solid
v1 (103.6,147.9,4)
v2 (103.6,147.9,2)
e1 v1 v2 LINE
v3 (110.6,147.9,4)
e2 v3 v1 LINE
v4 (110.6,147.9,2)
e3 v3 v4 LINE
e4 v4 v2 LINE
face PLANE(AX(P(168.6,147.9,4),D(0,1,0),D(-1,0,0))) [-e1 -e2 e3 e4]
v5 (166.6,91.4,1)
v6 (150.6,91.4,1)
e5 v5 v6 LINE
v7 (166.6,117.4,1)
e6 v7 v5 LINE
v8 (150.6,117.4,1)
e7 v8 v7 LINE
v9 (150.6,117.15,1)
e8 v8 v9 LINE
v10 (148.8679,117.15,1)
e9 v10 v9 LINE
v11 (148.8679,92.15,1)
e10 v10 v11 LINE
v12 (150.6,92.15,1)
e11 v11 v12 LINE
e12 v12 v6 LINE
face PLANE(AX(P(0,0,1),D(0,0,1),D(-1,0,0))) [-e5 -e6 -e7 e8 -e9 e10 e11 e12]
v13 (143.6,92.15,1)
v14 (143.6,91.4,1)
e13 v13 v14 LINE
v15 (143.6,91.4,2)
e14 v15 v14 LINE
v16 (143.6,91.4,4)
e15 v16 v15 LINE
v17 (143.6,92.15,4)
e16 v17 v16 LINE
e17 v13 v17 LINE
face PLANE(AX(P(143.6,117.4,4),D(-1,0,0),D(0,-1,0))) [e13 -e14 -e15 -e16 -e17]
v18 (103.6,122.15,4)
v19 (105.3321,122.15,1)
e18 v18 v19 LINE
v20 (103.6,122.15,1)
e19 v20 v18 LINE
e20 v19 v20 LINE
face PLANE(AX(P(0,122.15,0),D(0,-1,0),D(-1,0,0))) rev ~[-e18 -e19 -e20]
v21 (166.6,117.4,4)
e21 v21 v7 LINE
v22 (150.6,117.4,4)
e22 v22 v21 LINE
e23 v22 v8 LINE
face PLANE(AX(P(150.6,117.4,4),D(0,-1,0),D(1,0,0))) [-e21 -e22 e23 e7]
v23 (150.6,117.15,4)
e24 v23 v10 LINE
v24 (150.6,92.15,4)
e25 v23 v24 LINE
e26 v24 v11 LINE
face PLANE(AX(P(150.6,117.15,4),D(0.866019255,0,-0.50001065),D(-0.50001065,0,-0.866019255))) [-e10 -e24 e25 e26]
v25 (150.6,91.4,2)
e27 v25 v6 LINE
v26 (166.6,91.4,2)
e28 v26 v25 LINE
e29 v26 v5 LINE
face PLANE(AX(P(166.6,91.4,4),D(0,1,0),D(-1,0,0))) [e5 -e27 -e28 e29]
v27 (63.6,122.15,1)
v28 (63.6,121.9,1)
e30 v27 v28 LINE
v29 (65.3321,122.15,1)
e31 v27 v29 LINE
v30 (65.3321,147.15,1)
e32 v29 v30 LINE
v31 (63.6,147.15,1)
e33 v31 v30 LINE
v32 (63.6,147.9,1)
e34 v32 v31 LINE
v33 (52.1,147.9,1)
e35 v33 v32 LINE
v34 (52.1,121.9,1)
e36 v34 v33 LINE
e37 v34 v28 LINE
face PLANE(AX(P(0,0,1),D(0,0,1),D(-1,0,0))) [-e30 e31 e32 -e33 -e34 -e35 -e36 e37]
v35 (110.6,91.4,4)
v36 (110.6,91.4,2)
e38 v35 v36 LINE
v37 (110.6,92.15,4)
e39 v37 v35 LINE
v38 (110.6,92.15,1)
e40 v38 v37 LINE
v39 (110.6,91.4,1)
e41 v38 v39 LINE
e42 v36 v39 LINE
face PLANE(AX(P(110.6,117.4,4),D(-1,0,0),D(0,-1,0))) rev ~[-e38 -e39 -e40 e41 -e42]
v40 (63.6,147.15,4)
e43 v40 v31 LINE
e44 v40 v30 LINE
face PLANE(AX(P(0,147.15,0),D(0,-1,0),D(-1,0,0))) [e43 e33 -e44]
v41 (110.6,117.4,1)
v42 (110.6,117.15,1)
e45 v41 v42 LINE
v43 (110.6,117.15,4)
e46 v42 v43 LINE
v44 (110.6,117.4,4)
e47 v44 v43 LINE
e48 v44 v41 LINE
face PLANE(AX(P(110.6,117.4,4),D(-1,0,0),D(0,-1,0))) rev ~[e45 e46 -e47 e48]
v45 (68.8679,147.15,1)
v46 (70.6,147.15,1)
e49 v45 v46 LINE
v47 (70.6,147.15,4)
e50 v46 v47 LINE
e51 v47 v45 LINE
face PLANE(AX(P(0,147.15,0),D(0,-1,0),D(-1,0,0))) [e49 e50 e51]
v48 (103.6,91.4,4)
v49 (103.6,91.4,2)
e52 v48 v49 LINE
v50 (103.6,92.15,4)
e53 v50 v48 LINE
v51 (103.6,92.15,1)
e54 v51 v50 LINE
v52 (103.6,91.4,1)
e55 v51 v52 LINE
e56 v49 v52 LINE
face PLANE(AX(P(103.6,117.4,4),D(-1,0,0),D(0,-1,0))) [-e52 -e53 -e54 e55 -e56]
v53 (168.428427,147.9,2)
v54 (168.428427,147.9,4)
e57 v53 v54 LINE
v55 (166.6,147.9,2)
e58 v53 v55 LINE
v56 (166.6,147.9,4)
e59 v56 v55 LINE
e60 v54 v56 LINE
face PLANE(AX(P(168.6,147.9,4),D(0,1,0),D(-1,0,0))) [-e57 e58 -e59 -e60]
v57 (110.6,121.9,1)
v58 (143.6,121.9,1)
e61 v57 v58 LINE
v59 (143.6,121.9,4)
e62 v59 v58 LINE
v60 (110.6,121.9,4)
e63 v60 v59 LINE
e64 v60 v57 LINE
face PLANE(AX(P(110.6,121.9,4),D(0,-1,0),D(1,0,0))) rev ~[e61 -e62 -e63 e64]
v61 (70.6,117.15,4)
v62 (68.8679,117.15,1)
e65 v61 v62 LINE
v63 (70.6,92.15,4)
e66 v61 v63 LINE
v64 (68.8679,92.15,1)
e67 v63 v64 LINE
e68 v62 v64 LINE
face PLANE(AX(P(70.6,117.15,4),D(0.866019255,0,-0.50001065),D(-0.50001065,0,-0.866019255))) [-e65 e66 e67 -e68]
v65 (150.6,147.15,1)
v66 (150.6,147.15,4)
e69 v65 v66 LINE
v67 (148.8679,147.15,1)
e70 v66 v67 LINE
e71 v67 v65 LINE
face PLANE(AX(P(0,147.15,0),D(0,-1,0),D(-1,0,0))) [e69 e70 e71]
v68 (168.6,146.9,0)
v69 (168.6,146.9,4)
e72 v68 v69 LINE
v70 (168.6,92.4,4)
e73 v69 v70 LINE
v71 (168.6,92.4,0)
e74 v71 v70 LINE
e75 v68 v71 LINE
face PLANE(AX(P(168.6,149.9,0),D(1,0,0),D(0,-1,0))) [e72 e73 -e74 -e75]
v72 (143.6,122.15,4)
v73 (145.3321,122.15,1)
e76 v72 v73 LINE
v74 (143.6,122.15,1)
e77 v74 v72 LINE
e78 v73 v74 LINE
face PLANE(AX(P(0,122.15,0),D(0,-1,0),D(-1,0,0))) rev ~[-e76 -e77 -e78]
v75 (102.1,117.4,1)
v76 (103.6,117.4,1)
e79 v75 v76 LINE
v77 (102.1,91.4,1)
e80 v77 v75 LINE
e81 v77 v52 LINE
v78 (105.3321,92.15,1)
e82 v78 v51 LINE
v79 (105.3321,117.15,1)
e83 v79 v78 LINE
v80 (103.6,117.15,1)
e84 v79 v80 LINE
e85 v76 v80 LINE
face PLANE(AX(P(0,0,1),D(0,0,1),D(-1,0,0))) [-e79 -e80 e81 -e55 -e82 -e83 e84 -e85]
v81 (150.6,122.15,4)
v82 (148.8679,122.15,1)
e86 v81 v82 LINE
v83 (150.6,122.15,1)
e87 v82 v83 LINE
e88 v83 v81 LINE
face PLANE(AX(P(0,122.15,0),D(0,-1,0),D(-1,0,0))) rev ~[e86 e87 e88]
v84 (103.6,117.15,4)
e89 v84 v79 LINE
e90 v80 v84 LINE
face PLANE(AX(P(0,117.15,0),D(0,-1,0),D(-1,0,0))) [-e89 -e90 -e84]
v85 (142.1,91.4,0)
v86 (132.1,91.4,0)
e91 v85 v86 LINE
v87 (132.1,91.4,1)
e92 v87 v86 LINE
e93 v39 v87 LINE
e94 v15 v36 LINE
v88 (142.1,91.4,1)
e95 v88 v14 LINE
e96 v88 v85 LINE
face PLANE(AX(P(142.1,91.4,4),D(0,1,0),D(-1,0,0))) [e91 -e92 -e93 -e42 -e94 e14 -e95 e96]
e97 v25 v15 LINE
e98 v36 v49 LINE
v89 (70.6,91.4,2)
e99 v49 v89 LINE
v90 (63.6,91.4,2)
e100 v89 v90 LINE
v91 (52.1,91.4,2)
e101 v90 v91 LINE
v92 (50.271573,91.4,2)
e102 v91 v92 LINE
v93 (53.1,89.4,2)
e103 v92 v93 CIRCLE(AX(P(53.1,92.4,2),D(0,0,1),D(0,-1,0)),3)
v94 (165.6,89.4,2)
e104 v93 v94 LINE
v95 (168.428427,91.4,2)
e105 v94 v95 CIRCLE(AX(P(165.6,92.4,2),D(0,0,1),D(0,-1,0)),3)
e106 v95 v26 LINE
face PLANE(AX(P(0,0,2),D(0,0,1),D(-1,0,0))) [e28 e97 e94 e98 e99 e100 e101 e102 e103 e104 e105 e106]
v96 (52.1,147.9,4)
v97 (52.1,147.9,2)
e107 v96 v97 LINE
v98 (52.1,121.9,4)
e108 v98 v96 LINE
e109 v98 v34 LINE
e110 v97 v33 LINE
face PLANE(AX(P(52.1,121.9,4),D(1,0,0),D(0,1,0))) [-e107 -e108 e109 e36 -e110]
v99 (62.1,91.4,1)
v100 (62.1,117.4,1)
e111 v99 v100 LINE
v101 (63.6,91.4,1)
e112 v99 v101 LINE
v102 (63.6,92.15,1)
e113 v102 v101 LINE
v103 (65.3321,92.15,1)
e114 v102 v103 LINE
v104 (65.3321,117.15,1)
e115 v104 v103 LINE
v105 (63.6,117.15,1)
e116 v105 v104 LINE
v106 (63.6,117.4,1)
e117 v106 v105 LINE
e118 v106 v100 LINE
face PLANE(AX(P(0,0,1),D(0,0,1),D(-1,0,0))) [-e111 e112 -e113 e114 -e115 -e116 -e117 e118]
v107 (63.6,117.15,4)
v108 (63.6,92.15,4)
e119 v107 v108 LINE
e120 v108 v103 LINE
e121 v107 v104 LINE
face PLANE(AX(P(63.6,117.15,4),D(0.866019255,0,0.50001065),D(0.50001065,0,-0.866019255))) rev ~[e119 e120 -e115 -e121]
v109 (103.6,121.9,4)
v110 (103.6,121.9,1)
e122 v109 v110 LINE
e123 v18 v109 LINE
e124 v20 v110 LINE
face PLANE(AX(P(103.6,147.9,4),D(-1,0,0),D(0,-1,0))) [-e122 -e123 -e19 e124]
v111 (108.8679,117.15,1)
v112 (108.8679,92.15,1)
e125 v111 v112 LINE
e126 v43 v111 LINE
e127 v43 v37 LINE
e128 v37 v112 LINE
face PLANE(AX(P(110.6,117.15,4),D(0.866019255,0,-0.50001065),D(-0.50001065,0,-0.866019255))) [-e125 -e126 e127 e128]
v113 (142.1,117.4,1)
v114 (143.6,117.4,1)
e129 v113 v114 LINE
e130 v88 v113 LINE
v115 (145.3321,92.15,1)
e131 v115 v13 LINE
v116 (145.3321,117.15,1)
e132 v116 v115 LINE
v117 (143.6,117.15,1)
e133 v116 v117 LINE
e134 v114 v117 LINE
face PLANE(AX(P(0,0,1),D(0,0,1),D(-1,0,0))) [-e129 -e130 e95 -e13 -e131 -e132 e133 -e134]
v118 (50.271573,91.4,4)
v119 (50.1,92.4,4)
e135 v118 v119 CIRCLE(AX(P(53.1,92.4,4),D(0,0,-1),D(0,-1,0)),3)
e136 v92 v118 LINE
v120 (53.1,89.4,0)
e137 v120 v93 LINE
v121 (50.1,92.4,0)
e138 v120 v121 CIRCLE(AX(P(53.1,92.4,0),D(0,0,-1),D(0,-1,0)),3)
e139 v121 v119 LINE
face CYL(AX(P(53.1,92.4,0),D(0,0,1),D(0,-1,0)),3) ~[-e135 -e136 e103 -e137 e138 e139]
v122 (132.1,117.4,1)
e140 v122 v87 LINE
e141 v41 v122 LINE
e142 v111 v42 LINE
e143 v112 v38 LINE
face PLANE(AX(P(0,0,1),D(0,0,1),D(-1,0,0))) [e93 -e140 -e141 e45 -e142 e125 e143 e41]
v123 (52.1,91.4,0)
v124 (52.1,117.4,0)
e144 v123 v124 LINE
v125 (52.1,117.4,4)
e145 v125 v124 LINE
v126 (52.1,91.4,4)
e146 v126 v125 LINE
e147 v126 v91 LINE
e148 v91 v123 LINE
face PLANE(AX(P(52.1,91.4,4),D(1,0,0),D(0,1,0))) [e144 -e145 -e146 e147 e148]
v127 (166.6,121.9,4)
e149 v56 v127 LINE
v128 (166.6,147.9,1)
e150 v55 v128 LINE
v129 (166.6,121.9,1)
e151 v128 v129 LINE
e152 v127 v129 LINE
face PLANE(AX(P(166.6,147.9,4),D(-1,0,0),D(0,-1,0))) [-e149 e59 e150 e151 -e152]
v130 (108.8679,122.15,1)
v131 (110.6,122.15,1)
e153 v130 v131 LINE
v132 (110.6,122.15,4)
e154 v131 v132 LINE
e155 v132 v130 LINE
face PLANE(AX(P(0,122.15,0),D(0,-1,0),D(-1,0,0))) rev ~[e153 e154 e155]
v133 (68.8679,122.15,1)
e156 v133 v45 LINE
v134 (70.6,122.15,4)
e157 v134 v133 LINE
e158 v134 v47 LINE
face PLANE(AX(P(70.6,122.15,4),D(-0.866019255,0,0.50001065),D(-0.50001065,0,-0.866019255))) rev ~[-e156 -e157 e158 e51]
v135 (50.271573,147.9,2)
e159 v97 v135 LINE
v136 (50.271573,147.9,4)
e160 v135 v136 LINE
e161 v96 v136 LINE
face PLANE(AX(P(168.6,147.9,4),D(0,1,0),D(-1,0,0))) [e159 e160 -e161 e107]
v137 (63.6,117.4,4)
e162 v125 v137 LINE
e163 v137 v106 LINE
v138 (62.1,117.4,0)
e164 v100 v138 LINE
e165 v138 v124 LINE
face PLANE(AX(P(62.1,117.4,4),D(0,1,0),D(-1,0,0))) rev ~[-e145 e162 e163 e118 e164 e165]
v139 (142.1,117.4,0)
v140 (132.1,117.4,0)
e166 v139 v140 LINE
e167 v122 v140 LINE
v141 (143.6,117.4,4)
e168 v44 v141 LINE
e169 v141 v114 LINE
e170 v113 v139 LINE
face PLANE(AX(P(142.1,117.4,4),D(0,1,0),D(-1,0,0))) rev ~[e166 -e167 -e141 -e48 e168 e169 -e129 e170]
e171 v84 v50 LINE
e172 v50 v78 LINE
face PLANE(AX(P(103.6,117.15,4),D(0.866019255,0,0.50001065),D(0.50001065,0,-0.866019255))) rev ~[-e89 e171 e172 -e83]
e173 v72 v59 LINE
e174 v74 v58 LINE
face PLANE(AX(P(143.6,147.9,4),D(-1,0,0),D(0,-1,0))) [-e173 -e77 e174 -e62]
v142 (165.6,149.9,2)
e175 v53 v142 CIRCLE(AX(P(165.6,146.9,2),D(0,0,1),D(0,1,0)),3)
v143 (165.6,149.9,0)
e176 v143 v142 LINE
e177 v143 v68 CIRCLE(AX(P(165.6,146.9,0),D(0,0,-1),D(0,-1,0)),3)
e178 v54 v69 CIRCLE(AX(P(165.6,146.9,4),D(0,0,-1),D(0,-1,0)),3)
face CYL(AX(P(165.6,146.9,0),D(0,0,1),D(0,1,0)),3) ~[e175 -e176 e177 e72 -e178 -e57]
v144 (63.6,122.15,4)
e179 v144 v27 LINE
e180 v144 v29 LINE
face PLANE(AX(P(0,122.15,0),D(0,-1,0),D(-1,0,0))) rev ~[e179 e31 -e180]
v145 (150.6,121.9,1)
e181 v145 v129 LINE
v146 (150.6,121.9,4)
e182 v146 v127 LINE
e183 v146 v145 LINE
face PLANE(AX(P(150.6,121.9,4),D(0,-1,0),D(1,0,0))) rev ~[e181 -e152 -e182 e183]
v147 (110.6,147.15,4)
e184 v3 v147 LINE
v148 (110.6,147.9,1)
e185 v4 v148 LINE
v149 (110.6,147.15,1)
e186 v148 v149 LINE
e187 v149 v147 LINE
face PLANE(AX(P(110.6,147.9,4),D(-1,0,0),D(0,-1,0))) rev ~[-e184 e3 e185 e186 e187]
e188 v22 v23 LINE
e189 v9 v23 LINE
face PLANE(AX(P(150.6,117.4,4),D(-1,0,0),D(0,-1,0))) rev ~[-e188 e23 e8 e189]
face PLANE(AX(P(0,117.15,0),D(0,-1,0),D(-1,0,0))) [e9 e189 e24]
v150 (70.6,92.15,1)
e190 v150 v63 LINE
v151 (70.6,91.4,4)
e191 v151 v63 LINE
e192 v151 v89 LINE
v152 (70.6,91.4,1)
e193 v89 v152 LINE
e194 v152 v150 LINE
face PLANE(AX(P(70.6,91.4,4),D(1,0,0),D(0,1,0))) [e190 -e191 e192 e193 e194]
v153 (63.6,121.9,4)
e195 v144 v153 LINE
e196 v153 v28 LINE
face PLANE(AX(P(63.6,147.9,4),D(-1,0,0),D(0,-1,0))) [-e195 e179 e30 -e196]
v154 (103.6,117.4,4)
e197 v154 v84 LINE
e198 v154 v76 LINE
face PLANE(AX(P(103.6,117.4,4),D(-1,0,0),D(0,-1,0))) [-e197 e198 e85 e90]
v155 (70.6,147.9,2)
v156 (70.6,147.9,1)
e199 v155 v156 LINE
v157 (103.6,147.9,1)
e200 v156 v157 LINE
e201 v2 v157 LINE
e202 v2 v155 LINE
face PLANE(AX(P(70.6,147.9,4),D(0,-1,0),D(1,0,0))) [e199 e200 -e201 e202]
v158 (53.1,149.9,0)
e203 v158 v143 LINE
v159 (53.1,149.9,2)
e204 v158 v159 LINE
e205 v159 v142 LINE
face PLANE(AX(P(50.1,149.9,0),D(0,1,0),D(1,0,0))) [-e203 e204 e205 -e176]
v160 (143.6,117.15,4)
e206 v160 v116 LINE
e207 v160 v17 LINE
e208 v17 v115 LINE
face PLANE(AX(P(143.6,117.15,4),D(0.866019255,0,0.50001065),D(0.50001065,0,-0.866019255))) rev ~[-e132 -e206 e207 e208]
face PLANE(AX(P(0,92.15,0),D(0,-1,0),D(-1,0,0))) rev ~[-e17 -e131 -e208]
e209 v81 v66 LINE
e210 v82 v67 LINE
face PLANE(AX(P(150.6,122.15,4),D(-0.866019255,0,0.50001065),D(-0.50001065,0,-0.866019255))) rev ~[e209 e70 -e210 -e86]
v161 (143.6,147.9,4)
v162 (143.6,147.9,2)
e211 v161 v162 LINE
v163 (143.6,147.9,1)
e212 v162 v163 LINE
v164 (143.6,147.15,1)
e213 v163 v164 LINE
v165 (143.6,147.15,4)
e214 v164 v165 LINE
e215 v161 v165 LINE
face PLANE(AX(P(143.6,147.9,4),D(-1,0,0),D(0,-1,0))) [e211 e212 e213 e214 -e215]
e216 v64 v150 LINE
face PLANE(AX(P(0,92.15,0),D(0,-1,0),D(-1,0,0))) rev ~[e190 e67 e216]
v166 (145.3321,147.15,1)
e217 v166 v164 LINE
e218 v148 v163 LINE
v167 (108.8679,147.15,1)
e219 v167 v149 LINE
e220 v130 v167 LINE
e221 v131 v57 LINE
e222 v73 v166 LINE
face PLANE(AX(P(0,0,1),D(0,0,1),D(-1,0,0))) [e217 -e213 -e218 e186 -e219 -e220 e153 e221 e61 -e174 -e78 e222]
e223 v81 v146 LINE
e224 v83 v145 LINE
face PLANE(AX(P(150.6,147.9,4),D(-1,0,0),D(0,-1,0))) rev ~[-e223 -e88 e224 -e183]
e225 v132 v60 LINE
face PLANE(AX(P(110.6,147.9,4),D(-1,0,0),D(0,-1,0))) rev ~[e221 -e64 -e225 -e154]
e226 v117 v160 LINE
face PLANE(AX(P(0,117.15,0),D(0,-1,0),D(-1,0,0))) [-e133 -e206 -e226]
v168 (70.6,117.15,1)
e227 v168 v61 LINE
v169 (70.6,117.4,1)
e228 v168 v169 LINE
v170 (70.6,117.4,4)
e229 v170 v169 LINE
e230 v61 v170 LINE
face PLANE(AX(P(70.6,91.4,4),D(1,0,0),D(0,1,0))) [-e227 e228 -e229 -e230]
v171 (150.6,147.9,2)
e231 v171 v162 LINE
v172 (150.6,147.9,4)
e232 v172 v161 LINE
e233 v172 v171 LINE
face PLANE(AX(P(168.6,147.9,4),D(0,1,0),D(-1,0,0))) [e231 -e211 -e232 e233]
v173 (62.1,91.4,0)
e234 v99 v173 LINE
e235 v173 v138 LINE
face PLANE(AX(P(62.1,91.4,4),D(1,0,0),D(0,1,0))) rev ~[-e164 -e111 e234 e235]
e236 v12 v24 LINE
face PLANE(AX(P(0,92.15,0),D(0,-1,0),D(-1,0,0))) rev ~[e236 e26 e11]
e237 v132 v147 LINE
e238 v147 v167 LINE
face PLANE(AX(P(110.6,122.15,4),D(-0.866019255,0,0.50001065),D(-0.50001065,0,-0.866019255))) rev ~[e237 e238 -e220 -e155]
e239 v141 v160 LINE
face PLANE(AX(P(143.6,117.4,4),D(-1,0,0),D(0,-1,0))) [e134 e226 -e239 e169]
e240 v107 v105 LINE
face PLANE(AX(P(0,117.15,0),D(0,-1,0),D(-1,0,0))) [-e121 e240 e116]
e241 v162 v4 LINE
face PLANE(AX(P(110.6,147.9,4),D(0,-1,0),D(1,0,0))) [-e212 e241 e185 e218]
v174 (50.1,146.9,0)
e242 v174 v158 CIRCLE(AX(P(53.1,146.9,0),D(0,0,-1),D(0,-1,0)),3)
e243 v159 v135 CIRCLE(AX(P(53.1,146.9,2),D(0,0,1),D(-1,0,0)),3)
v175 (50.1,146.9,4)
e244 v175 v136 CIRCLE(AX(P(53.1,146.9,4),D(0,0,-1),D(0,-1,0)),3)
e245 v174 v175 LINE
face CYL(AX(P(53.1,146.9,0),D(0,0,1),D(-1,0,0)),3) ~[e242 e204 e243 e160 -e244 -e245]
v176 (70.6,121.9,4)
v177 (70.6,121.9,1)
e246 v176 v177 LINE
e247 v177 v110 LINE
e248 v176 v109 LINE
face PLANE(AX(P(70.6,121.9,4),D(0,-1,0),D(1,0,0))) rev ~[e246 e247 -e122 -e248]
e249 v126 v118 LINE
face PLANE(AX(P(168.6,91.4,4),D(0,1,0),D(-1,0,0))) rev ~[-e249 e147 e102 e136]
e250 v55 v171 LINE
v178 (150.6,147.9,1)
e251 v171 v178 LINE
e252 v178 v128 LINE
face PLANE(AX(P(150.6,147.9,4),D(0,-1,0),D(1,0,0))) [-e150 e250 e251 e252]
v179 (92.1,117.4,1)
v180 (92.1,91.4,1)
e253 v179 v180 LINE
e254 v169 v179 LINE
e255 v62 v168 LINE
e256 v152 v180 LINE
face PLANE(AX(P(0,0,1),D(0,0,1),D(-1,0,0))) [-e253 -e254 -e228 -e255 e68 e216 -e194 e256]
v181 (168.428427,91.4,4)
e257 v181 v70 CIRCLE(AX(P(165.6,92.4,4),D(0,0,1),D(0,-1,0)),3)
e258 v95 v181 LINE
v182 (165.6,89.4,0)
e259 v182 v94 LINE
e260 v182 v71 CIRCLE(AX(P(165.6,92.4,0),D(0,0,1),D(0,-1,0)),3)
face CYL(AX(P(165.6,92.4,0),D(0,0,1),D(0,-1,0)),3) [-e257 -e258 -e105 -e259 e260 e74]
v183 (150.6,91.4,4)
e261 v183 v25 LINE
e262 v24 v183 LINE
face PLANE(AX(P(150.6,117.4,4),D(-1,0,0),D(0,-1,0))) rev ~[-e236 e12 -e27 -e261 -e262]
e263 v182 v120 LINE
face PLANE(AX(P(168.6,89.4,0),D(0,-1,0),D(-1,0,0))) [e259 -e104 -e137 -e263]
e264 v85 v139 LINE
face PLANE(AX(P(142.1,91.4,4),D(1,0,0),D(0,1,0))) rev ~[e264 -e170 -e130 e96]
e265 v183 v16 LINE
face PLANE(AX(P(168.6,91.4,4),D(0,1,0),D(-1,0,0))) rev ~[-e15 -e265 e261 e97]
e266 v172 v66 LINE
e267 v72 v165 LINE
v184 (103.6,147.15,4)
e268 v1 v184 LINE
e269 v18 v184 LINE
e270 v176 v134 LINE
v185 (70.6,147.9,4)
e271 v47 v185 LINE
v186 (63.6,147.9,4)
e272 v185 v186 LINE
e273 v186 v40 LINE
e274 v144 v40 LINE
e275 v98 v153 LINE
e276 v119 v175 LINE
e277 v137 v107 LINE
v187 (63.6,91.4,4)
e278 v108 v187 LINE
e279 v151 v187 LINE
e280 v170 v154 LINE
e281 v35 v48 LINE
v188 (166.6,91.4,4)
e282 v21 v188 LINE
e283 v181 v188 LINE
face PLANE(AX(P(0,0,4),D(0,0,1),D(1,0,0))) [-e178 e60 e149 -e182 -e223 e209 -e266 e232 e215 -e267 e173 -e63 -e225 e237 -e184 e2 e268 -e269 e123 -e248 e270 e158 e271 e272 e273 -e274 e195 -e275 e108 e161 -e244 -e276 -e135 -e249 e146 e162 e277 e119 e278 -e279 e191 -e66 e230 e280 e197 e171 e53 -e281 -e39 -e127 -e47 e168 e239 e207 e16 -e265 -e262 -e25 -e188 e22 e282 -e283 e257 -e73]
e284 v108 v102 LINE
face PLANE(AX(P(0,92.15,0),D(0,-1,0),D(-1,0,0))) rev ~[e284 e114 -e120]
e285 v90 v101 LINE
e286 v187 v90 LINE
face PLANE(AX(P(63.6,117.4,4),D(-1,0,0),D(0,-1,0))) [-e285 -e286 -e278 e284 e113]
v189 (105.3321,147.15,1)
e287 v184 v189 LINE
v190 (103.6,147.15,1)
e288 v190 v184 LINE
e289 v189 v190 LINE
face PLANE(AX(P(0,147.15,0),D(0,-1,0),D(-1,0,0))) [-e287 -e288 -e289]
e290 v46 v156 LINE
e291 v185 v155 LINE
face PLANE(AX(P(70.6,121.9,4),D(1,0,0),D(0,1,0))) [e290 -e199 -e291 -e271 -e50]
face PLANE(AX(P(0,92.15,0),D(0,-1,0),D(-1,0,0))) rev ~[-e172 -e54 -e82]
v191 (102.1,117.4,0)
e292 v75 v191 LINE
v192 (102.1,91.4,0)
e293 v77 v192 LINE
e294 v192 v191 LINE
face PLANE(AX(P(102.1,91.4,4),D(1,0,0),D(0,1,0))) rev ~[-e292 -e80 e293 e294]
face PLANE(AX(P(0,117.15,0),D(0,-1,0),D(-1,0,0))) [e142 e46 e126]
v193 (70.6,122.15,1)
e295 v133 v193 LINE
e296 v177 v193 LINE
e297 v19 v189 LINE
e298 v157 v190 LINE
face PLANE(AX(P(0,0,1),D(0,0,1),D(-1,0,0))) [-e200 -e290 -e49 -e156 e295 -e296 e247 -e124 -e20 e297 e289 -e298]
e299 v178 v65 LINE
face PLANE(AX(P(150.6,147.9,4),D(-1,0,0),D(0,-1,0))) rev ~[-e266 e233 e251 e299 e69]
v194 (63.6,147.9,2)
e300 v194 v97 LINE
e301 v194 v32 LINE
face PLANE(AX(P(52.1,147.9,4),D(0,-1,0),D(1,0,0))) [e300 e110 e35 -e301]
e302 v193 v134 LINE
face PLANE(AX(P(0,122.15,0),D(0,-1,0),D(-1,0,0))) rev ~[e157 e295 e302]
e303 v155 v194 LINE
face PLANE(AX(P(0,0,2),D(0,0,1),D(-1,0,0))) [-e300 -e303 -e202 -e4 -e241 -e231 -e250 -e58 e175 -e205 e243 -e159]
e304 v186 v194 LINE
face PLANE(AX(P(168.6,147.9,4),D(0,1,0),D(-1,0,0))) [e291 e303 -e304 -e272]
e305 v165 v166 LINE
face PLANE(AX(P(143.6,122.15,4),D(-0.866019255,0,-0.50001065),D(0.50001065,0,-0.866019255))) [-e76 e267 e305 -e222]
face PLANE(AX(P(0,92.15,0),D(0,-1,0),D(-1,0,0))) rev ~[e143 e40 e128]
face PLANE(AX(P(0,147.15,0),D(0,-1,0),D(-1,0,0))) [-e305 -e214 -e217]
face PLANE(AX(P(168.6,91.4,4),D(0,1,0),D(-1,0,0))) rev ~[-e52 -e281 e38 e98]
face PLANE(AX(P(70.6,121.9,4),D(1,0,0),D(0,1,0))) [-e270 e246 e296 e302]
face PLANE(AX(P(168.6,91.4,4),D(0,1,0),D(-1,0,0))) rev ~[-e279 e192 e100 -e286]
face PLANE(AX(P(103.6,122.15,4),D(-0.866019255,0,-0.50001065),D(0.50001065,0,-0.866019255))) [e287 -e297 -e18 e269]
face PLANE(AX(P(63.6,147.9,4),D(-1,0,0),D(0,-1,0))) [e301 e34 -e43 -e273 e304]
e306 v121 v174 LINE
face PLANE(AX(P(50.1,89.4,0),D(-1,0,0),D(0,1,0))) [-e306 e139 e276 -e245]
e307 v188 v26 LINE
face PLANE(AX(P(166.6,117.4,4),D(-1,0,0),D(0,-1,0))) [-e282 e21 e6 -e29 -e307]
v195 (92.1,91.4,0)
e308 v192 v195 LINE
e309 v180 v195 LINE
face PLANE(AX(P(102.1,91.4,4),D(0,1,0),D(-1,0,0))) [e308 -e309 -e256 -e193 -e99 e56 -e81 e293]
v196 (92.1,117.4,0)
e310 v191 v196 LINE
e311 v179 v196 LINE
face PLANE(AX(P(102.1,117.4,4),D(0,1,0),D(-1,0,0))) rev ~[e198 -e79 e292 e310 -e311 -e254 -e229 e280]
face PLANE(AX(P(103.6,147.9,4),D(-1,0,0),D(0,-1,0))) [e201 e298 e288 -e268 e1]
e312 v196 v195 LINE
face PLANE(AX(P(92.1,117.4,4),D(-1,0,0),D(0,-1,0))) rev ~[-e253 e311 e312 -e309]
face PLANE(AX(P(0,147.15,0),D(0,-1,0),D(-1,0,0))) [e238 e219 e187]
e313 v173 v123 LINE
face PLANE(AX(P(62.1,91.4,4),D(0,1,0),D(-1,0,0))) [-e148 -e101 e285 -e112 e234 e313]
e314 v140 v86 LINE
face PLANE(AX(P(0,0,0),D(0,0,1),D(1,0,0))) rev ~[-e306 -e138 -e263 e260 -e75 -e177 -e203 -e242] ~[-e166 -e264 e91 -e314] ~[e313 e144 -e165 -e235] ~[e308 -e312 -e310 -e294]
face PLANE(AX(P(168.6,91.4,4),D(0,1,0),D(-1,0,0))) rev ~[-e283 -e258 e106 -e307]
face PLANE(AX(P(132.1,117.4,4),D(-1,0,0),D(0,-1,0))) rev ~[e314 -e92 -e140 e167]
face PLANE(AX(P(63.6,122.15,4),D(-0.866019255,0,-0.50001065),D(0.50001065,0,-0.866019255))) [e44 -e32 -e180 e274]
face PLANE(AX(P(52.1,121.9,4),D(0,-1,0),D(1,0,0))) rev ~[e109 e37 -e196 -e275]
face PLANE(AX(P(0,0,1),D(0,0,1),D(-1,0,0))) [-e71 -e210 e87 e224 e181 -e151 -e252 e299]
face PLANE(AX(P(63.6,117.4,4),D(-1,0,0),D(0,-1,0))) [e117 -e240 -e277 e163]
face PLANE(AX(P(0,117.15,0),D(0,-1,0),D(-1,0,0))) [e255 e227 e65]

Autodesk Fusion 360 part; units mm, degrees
sketch "Schizzo1" plane through (0, 0, 0) normal (0, 0, 1) x (1, 0, 0)
  line L0 (50, 150) -> (168.7, 150) construction
  line L1 (168.7, 150) -> (168.7, 89.3) construction
  line L2 (168.7, 89.3) -> (50, 89.3) construction
  line L3 (50, 89.3) -> (50, 150) construction
  line L4 (50, 119.65) -> (168.7, 119.65) construction
  line L5 (109.35, 150) -> (109.35, 89.3) construction
  line L6 (168.6, 89.4) -> (50.1, 89.4)
  line L7 (50.1, 89.4) -> (50.1, 149.9)
  line L8 (50.1, 149.9) -> (168.6, 149.9)
  line L9 (168.6, 149.9) -> (168.6, 89.4)
  line L10 (168.6, 89.4) -> (50.1, 149.9) construction
  line L11 (50.1, 89.4) -> (168.6, 149.9) construction
  point P0 (109.35, 119.65)
  dimension "d1" = 118.7
  dimension "d2" = 60.7
  dimension "d3" = 0.1
  dimension "d4" = 0.1
extrude "Estrusione1" add sketch "Schizzo1" along normal blind 4
fillet "Raccordo1" radius 3 4 edges at (50.1, 89.4, 2) (168.6, 89.4, 2) (50.1, 149.9, 2) (168.6, 149.9, 2)
sketch "Schizzo2" plane through (0, 0, 4) normal (0, 0, 1) x (-1, 0, 0)
  arc A0 (-168.6, -146.9) -> (-165.6, -149.9) centre (-165.6, -146.9) ccw
  line L0 (-165.6, -149.9) -> (-53.1, -149.9)
  arc A1 (-53.1, -149.9) -> (-50.1, -146.9) centre (-53.1, -146.9) ccw
  line L1 (-50.1, -146.9) -> (-50.1, -92.4)
  arc A2 (-50.1, -92.4) -> (-53.1, -89.4) centre (-53.1, -92.4) ccw
  line L2 (-53.1, -89.4) -> (-165.6, -89.4)
  arc A3 (-165.6, -89.4) -> (-168.6, -92.4) centre (-165.6, -92.4) ccw
  line L3 (-168.6, -92.4) -> (-168.6, -146.9)
  line L4 (-50.1, -149.9) -> (-168.6, -149.9) construction
  line L5 (-168.6, -149.9) -> (-168.6, -89.4) construction
  line L6 (-168.6, -89.4) -> (-50.1, -89.4) construction
  line L7 (-50.1, -89.4) -> (-50.1, -149.9) construction
  line L8 (-50.1, -119.65) -> (-168.6, -119.65) construction
  line L9 (-109.35, -149.9) -> (-109.35, -89.4) construction
  line L10 (-166.6, -91.4) -> (-52.1, -91.4)
  line L11 (-52.1, -91.4) -> (-52.1, -147.9)
  line L12 (-52.1, -147.9) -> (-166.6, -147.9)
  line L13 (-166.6, -147.9) -> (-166.6, -91.4)
  line L14 (-166.6, -91.4) -> (-52.1, -147.9) construction
  line L15 (-52.1, -91.4) -> (-166.6, -147.9) construction
  line L16 (-70.6, -91.4) -> (-70.6, -147.9)
  line L17 (-63.6, -147.9) -> (-63.6, -91.4)
  line L18 (-52.1, -121.9) -> (-52.1, -147.9)
  line L19 (-103.6, -147.9) -> (-103.6, -91.4)
  line L20 (-110.6, -147.9) -> (-110.6, -91.4)
  line L21 (-143.6, -147.9) -> (-143.6, -91.4)
  line L22 (-150.6, -147.9) -> (-150.6, -91.4)
  line L23 (-52.1, -91.4) -> (-62.1, -91.4)
  line L24 (-62.1, -91.4) -> (-62.1, -117.4)
  line L25 (-62.1, -117.4) -> (-52.1, -117.4)
  line L26 (-52.1, -117.4) -> (-52.1, -91.4)
  line L27 (-102.1, -117.4) -> (-92.1, -117.4)
  line L28 (-92.1, -117.4) -> (-92.1, -91.4)
  line L29 (-102.1, -91.4) -> (-102.1, -117.4)
  line L30 (-92.1, -91.4) -> (-102.1, -91.4)
  line L31 (-142.1, -117.4) -> (-132.1, -117.4)
  line L32 (-132.1, -117.4) -> (-132.1, -91.4)
  line L33 (-142.1, -91.4) -> (-142.1, -117.4)
  line L34 (-132.1, -91.4) -> (-142.1, -91.4)
  line L35 (-52.1, -117.4) -> (-166.6, -117.4)
  line L36 (-52.1, -121.9) -> (-166.6, -121.9)
  point P0 (-109.35, -119.65)
  point P1 (-109.35, -119.65)
  dimension "d11" = 7
  dimension "d20" = 7
  dimension "d25" = 7
  dimension "d36" = 13.5
  dimension "d37" = 53.5
  dimension "d38" = 93.5
  dimension "d39" = 10
  dimension "d40" = 26
  dimension "d41" = 2
  dimension "d42" = 2
  dimension "d45" = -40
  dimension "d46" = 0
extrude "Estrusione2" cut sketch "Schizzo2" against normal blind 3 contours L10 L13 L22 L35 | L10 L21 L33 L35 | L12 L13 L22 L36 | L10 L31 L32 L33 L34 L35 | L10 L20 L32 L35 | L12 L20 L21 L36 | L10 L19 L29 L35 | L12 L16 L19 L36 | L10 L27 L28 L29 L30 L35 | L10 L16 L28 L35 | L11 L12 L17 L18 L36 | L10 L17 L24 L35 | L10 L11 L23 L24 L25 L26 L35
extrude "Estrusione3" cut sketch "Schizzo2" against normal blind 4 contours L10 L31 L32 L33 L34 L35 | L10 L27 L28 L29 L30 L35 | L10 L11 L23 L24 L25 L26 L35
ref_plane "Piano di lavoro1" through (109.35, 119.65, 4) normal (0, -1, 0) x (1, 0, 0)
sketch "Schizzo3" plane through (0, 119.65, 0) normal (0, -1, 0) x (-1, 0, 0)
  line L0 (-50.1, -4) -> (-168.7, -4) construction
  line L1 (-168.7, -4) -> (-168.7, 0) construction
  line L2 (-168.7, 0) -> (-50.1, 0) construction
  line L3 (-50.1, 0) -> (-50.1, -4) construction
  line L4 (-168.6, -4) -> (-50.1, -4) construction
  line L5 (-50.1, -1) -> (-168.7, -1) construction
  line L6 (-63.6, -4) -> (-63.6, 0) construction
  line L7 (-70.6, -4) -> (-70.6, 0) construction
  line L8 (-63.6, -4) -> (-63.6, -1) construction
  line L9 (-70.6, -4) -> (-70.6, -1) construction
  line L10 (-103.6, -4) -> (-103.6, 0) construction
  line L11 (-110.6, -4) -> (-110.6, 0) construction
  line L12 (-103.6, -4) -> (-103.6, -1) construction
  line L13 (-110.6, -4) -> (-110.6, -1) construction
  line L14 (-143.6, -4) -> (-143.6, 0) construction
  line L15 (-150.6, -4) -> (-150.6, 0) construction
  line L16 (-143.6, -4) -> (-143.6, -1) construction
  line L17 (-150.6, -4) -> (-150.6, -1) construction
  line L18 (-63.6, -4) -> (-65.3321, -1)
  line L19 (-63.6, -4) -> (-60.1359, -4) construction
  line L20 (-70.6, -4) -> (-68.8679, -1)
  line L21 (-70.6, -4) -> (-67.1359, -4) construction
  line L22 (-63.6, -4) -> (-63.6, -1)
  line L23 (-63.6, -1) -> (-65.3321, -1)
  line L24 (-68.8679, -1) -> (-70.6, -1)
  line L25 (-70.6, -1) -> (-70.6, -4)
  line L26 (-103.6, -1) -> (-103.6, -4)
  line L27 (-103.6, -4) -> (-105.3321, -1)
  line L28 (-105.3321, -1) -> (-103.6, -1)
  line L29 (-110.6, -1) -> (-110.6, -4)
  line L30 (-110.6, -4) -> (-108.8679, -1)
  line L31 (-108.8679, -1) -> (-110.6, -1)
  line L32 (-143.6, -1) -> (-143.6, -4)
  line L33 (-143.6, -4) -> (-145.3321, -1)
  line L34 (-145.3321, -1) -> (-143.6, -1)
  line L35 (-150.6, -1) -> (-150.6, -4)
  line L36 (-150.6, -4) -> (-148.8679, -1)
  line L37 (-148.8679, -1) -> (-150.6, -1)
  line L38 (-110.6, -1) -> (-143.6, -1)
  point P0 (-168.7, 0)
  dimension "d28" = 120
  dimension "d29" = 60
  dimension "d30" = 30
  dimension "d31" = 30
  dimension "d32" = 30
  dimension "d33" = 30
extrude "Estrusione4" cut sketch "Schizzo3" along normal blind 25 from surface at 2.5
extrude "Estrusione6" cut sketch "Schizzo3" against normal blind 25 from surface at -2.5
sketch "Schizzo4" plane through (0, 0, 4) normal (0, 0, 1) x (-1, 0, 0)
  line L0 (-50.1, -149.9) -> (-168.6, -149.9) construction
  line L1 (-168.6, -149.9) -> (-168.6, -89.4) construction
  line L2 (-168.6, -89.4) -> (-50.1, -89.4) construction
  line L3 (-50.1, -89.4) -> (-50.1, -149.9) construction
  line L4 (-165.6, -149.9) -> (-53.1, -149.9) construction
  line L5 (-53.1, -89.4) -> (-165.6, -89.4) construction
  line L6 (-50.1, -146.9) -> (-50.1, -92.4) construction
  line L7 (-168.6, -92.4) -> (-168.6, -146.9) construction
  line L8 (-50.1, -149.9) -> (-168.6, -149.9)
  line L9 (-168.6, -149.9) -> (-168.6, -147.9)
  line L10 (-168.6, -147.9) -> (-50.1, -147.9)
  line L11 (-50.1, -147.9) -> (-50.1, -149.9)
  line L12 (-50.1, -89.4) -> (-168.6, -89.4)
  line L13 (-168.6, -89.4) -> (-168.6, -91.4)
  line L14 (-168.6, -91.4) -> (-50.1, -91.4)
  line L15 (-50.1, -91.4) -> (-50.1, -89.4)
  dimension "d51" = 2
  dimension "d52" = 2
extrude "Estrusione5" cut sketch "Schizzo4" against normal blind 2
equation "d28 = 90 deg + 30 deg"
equation "d52 = d51"
